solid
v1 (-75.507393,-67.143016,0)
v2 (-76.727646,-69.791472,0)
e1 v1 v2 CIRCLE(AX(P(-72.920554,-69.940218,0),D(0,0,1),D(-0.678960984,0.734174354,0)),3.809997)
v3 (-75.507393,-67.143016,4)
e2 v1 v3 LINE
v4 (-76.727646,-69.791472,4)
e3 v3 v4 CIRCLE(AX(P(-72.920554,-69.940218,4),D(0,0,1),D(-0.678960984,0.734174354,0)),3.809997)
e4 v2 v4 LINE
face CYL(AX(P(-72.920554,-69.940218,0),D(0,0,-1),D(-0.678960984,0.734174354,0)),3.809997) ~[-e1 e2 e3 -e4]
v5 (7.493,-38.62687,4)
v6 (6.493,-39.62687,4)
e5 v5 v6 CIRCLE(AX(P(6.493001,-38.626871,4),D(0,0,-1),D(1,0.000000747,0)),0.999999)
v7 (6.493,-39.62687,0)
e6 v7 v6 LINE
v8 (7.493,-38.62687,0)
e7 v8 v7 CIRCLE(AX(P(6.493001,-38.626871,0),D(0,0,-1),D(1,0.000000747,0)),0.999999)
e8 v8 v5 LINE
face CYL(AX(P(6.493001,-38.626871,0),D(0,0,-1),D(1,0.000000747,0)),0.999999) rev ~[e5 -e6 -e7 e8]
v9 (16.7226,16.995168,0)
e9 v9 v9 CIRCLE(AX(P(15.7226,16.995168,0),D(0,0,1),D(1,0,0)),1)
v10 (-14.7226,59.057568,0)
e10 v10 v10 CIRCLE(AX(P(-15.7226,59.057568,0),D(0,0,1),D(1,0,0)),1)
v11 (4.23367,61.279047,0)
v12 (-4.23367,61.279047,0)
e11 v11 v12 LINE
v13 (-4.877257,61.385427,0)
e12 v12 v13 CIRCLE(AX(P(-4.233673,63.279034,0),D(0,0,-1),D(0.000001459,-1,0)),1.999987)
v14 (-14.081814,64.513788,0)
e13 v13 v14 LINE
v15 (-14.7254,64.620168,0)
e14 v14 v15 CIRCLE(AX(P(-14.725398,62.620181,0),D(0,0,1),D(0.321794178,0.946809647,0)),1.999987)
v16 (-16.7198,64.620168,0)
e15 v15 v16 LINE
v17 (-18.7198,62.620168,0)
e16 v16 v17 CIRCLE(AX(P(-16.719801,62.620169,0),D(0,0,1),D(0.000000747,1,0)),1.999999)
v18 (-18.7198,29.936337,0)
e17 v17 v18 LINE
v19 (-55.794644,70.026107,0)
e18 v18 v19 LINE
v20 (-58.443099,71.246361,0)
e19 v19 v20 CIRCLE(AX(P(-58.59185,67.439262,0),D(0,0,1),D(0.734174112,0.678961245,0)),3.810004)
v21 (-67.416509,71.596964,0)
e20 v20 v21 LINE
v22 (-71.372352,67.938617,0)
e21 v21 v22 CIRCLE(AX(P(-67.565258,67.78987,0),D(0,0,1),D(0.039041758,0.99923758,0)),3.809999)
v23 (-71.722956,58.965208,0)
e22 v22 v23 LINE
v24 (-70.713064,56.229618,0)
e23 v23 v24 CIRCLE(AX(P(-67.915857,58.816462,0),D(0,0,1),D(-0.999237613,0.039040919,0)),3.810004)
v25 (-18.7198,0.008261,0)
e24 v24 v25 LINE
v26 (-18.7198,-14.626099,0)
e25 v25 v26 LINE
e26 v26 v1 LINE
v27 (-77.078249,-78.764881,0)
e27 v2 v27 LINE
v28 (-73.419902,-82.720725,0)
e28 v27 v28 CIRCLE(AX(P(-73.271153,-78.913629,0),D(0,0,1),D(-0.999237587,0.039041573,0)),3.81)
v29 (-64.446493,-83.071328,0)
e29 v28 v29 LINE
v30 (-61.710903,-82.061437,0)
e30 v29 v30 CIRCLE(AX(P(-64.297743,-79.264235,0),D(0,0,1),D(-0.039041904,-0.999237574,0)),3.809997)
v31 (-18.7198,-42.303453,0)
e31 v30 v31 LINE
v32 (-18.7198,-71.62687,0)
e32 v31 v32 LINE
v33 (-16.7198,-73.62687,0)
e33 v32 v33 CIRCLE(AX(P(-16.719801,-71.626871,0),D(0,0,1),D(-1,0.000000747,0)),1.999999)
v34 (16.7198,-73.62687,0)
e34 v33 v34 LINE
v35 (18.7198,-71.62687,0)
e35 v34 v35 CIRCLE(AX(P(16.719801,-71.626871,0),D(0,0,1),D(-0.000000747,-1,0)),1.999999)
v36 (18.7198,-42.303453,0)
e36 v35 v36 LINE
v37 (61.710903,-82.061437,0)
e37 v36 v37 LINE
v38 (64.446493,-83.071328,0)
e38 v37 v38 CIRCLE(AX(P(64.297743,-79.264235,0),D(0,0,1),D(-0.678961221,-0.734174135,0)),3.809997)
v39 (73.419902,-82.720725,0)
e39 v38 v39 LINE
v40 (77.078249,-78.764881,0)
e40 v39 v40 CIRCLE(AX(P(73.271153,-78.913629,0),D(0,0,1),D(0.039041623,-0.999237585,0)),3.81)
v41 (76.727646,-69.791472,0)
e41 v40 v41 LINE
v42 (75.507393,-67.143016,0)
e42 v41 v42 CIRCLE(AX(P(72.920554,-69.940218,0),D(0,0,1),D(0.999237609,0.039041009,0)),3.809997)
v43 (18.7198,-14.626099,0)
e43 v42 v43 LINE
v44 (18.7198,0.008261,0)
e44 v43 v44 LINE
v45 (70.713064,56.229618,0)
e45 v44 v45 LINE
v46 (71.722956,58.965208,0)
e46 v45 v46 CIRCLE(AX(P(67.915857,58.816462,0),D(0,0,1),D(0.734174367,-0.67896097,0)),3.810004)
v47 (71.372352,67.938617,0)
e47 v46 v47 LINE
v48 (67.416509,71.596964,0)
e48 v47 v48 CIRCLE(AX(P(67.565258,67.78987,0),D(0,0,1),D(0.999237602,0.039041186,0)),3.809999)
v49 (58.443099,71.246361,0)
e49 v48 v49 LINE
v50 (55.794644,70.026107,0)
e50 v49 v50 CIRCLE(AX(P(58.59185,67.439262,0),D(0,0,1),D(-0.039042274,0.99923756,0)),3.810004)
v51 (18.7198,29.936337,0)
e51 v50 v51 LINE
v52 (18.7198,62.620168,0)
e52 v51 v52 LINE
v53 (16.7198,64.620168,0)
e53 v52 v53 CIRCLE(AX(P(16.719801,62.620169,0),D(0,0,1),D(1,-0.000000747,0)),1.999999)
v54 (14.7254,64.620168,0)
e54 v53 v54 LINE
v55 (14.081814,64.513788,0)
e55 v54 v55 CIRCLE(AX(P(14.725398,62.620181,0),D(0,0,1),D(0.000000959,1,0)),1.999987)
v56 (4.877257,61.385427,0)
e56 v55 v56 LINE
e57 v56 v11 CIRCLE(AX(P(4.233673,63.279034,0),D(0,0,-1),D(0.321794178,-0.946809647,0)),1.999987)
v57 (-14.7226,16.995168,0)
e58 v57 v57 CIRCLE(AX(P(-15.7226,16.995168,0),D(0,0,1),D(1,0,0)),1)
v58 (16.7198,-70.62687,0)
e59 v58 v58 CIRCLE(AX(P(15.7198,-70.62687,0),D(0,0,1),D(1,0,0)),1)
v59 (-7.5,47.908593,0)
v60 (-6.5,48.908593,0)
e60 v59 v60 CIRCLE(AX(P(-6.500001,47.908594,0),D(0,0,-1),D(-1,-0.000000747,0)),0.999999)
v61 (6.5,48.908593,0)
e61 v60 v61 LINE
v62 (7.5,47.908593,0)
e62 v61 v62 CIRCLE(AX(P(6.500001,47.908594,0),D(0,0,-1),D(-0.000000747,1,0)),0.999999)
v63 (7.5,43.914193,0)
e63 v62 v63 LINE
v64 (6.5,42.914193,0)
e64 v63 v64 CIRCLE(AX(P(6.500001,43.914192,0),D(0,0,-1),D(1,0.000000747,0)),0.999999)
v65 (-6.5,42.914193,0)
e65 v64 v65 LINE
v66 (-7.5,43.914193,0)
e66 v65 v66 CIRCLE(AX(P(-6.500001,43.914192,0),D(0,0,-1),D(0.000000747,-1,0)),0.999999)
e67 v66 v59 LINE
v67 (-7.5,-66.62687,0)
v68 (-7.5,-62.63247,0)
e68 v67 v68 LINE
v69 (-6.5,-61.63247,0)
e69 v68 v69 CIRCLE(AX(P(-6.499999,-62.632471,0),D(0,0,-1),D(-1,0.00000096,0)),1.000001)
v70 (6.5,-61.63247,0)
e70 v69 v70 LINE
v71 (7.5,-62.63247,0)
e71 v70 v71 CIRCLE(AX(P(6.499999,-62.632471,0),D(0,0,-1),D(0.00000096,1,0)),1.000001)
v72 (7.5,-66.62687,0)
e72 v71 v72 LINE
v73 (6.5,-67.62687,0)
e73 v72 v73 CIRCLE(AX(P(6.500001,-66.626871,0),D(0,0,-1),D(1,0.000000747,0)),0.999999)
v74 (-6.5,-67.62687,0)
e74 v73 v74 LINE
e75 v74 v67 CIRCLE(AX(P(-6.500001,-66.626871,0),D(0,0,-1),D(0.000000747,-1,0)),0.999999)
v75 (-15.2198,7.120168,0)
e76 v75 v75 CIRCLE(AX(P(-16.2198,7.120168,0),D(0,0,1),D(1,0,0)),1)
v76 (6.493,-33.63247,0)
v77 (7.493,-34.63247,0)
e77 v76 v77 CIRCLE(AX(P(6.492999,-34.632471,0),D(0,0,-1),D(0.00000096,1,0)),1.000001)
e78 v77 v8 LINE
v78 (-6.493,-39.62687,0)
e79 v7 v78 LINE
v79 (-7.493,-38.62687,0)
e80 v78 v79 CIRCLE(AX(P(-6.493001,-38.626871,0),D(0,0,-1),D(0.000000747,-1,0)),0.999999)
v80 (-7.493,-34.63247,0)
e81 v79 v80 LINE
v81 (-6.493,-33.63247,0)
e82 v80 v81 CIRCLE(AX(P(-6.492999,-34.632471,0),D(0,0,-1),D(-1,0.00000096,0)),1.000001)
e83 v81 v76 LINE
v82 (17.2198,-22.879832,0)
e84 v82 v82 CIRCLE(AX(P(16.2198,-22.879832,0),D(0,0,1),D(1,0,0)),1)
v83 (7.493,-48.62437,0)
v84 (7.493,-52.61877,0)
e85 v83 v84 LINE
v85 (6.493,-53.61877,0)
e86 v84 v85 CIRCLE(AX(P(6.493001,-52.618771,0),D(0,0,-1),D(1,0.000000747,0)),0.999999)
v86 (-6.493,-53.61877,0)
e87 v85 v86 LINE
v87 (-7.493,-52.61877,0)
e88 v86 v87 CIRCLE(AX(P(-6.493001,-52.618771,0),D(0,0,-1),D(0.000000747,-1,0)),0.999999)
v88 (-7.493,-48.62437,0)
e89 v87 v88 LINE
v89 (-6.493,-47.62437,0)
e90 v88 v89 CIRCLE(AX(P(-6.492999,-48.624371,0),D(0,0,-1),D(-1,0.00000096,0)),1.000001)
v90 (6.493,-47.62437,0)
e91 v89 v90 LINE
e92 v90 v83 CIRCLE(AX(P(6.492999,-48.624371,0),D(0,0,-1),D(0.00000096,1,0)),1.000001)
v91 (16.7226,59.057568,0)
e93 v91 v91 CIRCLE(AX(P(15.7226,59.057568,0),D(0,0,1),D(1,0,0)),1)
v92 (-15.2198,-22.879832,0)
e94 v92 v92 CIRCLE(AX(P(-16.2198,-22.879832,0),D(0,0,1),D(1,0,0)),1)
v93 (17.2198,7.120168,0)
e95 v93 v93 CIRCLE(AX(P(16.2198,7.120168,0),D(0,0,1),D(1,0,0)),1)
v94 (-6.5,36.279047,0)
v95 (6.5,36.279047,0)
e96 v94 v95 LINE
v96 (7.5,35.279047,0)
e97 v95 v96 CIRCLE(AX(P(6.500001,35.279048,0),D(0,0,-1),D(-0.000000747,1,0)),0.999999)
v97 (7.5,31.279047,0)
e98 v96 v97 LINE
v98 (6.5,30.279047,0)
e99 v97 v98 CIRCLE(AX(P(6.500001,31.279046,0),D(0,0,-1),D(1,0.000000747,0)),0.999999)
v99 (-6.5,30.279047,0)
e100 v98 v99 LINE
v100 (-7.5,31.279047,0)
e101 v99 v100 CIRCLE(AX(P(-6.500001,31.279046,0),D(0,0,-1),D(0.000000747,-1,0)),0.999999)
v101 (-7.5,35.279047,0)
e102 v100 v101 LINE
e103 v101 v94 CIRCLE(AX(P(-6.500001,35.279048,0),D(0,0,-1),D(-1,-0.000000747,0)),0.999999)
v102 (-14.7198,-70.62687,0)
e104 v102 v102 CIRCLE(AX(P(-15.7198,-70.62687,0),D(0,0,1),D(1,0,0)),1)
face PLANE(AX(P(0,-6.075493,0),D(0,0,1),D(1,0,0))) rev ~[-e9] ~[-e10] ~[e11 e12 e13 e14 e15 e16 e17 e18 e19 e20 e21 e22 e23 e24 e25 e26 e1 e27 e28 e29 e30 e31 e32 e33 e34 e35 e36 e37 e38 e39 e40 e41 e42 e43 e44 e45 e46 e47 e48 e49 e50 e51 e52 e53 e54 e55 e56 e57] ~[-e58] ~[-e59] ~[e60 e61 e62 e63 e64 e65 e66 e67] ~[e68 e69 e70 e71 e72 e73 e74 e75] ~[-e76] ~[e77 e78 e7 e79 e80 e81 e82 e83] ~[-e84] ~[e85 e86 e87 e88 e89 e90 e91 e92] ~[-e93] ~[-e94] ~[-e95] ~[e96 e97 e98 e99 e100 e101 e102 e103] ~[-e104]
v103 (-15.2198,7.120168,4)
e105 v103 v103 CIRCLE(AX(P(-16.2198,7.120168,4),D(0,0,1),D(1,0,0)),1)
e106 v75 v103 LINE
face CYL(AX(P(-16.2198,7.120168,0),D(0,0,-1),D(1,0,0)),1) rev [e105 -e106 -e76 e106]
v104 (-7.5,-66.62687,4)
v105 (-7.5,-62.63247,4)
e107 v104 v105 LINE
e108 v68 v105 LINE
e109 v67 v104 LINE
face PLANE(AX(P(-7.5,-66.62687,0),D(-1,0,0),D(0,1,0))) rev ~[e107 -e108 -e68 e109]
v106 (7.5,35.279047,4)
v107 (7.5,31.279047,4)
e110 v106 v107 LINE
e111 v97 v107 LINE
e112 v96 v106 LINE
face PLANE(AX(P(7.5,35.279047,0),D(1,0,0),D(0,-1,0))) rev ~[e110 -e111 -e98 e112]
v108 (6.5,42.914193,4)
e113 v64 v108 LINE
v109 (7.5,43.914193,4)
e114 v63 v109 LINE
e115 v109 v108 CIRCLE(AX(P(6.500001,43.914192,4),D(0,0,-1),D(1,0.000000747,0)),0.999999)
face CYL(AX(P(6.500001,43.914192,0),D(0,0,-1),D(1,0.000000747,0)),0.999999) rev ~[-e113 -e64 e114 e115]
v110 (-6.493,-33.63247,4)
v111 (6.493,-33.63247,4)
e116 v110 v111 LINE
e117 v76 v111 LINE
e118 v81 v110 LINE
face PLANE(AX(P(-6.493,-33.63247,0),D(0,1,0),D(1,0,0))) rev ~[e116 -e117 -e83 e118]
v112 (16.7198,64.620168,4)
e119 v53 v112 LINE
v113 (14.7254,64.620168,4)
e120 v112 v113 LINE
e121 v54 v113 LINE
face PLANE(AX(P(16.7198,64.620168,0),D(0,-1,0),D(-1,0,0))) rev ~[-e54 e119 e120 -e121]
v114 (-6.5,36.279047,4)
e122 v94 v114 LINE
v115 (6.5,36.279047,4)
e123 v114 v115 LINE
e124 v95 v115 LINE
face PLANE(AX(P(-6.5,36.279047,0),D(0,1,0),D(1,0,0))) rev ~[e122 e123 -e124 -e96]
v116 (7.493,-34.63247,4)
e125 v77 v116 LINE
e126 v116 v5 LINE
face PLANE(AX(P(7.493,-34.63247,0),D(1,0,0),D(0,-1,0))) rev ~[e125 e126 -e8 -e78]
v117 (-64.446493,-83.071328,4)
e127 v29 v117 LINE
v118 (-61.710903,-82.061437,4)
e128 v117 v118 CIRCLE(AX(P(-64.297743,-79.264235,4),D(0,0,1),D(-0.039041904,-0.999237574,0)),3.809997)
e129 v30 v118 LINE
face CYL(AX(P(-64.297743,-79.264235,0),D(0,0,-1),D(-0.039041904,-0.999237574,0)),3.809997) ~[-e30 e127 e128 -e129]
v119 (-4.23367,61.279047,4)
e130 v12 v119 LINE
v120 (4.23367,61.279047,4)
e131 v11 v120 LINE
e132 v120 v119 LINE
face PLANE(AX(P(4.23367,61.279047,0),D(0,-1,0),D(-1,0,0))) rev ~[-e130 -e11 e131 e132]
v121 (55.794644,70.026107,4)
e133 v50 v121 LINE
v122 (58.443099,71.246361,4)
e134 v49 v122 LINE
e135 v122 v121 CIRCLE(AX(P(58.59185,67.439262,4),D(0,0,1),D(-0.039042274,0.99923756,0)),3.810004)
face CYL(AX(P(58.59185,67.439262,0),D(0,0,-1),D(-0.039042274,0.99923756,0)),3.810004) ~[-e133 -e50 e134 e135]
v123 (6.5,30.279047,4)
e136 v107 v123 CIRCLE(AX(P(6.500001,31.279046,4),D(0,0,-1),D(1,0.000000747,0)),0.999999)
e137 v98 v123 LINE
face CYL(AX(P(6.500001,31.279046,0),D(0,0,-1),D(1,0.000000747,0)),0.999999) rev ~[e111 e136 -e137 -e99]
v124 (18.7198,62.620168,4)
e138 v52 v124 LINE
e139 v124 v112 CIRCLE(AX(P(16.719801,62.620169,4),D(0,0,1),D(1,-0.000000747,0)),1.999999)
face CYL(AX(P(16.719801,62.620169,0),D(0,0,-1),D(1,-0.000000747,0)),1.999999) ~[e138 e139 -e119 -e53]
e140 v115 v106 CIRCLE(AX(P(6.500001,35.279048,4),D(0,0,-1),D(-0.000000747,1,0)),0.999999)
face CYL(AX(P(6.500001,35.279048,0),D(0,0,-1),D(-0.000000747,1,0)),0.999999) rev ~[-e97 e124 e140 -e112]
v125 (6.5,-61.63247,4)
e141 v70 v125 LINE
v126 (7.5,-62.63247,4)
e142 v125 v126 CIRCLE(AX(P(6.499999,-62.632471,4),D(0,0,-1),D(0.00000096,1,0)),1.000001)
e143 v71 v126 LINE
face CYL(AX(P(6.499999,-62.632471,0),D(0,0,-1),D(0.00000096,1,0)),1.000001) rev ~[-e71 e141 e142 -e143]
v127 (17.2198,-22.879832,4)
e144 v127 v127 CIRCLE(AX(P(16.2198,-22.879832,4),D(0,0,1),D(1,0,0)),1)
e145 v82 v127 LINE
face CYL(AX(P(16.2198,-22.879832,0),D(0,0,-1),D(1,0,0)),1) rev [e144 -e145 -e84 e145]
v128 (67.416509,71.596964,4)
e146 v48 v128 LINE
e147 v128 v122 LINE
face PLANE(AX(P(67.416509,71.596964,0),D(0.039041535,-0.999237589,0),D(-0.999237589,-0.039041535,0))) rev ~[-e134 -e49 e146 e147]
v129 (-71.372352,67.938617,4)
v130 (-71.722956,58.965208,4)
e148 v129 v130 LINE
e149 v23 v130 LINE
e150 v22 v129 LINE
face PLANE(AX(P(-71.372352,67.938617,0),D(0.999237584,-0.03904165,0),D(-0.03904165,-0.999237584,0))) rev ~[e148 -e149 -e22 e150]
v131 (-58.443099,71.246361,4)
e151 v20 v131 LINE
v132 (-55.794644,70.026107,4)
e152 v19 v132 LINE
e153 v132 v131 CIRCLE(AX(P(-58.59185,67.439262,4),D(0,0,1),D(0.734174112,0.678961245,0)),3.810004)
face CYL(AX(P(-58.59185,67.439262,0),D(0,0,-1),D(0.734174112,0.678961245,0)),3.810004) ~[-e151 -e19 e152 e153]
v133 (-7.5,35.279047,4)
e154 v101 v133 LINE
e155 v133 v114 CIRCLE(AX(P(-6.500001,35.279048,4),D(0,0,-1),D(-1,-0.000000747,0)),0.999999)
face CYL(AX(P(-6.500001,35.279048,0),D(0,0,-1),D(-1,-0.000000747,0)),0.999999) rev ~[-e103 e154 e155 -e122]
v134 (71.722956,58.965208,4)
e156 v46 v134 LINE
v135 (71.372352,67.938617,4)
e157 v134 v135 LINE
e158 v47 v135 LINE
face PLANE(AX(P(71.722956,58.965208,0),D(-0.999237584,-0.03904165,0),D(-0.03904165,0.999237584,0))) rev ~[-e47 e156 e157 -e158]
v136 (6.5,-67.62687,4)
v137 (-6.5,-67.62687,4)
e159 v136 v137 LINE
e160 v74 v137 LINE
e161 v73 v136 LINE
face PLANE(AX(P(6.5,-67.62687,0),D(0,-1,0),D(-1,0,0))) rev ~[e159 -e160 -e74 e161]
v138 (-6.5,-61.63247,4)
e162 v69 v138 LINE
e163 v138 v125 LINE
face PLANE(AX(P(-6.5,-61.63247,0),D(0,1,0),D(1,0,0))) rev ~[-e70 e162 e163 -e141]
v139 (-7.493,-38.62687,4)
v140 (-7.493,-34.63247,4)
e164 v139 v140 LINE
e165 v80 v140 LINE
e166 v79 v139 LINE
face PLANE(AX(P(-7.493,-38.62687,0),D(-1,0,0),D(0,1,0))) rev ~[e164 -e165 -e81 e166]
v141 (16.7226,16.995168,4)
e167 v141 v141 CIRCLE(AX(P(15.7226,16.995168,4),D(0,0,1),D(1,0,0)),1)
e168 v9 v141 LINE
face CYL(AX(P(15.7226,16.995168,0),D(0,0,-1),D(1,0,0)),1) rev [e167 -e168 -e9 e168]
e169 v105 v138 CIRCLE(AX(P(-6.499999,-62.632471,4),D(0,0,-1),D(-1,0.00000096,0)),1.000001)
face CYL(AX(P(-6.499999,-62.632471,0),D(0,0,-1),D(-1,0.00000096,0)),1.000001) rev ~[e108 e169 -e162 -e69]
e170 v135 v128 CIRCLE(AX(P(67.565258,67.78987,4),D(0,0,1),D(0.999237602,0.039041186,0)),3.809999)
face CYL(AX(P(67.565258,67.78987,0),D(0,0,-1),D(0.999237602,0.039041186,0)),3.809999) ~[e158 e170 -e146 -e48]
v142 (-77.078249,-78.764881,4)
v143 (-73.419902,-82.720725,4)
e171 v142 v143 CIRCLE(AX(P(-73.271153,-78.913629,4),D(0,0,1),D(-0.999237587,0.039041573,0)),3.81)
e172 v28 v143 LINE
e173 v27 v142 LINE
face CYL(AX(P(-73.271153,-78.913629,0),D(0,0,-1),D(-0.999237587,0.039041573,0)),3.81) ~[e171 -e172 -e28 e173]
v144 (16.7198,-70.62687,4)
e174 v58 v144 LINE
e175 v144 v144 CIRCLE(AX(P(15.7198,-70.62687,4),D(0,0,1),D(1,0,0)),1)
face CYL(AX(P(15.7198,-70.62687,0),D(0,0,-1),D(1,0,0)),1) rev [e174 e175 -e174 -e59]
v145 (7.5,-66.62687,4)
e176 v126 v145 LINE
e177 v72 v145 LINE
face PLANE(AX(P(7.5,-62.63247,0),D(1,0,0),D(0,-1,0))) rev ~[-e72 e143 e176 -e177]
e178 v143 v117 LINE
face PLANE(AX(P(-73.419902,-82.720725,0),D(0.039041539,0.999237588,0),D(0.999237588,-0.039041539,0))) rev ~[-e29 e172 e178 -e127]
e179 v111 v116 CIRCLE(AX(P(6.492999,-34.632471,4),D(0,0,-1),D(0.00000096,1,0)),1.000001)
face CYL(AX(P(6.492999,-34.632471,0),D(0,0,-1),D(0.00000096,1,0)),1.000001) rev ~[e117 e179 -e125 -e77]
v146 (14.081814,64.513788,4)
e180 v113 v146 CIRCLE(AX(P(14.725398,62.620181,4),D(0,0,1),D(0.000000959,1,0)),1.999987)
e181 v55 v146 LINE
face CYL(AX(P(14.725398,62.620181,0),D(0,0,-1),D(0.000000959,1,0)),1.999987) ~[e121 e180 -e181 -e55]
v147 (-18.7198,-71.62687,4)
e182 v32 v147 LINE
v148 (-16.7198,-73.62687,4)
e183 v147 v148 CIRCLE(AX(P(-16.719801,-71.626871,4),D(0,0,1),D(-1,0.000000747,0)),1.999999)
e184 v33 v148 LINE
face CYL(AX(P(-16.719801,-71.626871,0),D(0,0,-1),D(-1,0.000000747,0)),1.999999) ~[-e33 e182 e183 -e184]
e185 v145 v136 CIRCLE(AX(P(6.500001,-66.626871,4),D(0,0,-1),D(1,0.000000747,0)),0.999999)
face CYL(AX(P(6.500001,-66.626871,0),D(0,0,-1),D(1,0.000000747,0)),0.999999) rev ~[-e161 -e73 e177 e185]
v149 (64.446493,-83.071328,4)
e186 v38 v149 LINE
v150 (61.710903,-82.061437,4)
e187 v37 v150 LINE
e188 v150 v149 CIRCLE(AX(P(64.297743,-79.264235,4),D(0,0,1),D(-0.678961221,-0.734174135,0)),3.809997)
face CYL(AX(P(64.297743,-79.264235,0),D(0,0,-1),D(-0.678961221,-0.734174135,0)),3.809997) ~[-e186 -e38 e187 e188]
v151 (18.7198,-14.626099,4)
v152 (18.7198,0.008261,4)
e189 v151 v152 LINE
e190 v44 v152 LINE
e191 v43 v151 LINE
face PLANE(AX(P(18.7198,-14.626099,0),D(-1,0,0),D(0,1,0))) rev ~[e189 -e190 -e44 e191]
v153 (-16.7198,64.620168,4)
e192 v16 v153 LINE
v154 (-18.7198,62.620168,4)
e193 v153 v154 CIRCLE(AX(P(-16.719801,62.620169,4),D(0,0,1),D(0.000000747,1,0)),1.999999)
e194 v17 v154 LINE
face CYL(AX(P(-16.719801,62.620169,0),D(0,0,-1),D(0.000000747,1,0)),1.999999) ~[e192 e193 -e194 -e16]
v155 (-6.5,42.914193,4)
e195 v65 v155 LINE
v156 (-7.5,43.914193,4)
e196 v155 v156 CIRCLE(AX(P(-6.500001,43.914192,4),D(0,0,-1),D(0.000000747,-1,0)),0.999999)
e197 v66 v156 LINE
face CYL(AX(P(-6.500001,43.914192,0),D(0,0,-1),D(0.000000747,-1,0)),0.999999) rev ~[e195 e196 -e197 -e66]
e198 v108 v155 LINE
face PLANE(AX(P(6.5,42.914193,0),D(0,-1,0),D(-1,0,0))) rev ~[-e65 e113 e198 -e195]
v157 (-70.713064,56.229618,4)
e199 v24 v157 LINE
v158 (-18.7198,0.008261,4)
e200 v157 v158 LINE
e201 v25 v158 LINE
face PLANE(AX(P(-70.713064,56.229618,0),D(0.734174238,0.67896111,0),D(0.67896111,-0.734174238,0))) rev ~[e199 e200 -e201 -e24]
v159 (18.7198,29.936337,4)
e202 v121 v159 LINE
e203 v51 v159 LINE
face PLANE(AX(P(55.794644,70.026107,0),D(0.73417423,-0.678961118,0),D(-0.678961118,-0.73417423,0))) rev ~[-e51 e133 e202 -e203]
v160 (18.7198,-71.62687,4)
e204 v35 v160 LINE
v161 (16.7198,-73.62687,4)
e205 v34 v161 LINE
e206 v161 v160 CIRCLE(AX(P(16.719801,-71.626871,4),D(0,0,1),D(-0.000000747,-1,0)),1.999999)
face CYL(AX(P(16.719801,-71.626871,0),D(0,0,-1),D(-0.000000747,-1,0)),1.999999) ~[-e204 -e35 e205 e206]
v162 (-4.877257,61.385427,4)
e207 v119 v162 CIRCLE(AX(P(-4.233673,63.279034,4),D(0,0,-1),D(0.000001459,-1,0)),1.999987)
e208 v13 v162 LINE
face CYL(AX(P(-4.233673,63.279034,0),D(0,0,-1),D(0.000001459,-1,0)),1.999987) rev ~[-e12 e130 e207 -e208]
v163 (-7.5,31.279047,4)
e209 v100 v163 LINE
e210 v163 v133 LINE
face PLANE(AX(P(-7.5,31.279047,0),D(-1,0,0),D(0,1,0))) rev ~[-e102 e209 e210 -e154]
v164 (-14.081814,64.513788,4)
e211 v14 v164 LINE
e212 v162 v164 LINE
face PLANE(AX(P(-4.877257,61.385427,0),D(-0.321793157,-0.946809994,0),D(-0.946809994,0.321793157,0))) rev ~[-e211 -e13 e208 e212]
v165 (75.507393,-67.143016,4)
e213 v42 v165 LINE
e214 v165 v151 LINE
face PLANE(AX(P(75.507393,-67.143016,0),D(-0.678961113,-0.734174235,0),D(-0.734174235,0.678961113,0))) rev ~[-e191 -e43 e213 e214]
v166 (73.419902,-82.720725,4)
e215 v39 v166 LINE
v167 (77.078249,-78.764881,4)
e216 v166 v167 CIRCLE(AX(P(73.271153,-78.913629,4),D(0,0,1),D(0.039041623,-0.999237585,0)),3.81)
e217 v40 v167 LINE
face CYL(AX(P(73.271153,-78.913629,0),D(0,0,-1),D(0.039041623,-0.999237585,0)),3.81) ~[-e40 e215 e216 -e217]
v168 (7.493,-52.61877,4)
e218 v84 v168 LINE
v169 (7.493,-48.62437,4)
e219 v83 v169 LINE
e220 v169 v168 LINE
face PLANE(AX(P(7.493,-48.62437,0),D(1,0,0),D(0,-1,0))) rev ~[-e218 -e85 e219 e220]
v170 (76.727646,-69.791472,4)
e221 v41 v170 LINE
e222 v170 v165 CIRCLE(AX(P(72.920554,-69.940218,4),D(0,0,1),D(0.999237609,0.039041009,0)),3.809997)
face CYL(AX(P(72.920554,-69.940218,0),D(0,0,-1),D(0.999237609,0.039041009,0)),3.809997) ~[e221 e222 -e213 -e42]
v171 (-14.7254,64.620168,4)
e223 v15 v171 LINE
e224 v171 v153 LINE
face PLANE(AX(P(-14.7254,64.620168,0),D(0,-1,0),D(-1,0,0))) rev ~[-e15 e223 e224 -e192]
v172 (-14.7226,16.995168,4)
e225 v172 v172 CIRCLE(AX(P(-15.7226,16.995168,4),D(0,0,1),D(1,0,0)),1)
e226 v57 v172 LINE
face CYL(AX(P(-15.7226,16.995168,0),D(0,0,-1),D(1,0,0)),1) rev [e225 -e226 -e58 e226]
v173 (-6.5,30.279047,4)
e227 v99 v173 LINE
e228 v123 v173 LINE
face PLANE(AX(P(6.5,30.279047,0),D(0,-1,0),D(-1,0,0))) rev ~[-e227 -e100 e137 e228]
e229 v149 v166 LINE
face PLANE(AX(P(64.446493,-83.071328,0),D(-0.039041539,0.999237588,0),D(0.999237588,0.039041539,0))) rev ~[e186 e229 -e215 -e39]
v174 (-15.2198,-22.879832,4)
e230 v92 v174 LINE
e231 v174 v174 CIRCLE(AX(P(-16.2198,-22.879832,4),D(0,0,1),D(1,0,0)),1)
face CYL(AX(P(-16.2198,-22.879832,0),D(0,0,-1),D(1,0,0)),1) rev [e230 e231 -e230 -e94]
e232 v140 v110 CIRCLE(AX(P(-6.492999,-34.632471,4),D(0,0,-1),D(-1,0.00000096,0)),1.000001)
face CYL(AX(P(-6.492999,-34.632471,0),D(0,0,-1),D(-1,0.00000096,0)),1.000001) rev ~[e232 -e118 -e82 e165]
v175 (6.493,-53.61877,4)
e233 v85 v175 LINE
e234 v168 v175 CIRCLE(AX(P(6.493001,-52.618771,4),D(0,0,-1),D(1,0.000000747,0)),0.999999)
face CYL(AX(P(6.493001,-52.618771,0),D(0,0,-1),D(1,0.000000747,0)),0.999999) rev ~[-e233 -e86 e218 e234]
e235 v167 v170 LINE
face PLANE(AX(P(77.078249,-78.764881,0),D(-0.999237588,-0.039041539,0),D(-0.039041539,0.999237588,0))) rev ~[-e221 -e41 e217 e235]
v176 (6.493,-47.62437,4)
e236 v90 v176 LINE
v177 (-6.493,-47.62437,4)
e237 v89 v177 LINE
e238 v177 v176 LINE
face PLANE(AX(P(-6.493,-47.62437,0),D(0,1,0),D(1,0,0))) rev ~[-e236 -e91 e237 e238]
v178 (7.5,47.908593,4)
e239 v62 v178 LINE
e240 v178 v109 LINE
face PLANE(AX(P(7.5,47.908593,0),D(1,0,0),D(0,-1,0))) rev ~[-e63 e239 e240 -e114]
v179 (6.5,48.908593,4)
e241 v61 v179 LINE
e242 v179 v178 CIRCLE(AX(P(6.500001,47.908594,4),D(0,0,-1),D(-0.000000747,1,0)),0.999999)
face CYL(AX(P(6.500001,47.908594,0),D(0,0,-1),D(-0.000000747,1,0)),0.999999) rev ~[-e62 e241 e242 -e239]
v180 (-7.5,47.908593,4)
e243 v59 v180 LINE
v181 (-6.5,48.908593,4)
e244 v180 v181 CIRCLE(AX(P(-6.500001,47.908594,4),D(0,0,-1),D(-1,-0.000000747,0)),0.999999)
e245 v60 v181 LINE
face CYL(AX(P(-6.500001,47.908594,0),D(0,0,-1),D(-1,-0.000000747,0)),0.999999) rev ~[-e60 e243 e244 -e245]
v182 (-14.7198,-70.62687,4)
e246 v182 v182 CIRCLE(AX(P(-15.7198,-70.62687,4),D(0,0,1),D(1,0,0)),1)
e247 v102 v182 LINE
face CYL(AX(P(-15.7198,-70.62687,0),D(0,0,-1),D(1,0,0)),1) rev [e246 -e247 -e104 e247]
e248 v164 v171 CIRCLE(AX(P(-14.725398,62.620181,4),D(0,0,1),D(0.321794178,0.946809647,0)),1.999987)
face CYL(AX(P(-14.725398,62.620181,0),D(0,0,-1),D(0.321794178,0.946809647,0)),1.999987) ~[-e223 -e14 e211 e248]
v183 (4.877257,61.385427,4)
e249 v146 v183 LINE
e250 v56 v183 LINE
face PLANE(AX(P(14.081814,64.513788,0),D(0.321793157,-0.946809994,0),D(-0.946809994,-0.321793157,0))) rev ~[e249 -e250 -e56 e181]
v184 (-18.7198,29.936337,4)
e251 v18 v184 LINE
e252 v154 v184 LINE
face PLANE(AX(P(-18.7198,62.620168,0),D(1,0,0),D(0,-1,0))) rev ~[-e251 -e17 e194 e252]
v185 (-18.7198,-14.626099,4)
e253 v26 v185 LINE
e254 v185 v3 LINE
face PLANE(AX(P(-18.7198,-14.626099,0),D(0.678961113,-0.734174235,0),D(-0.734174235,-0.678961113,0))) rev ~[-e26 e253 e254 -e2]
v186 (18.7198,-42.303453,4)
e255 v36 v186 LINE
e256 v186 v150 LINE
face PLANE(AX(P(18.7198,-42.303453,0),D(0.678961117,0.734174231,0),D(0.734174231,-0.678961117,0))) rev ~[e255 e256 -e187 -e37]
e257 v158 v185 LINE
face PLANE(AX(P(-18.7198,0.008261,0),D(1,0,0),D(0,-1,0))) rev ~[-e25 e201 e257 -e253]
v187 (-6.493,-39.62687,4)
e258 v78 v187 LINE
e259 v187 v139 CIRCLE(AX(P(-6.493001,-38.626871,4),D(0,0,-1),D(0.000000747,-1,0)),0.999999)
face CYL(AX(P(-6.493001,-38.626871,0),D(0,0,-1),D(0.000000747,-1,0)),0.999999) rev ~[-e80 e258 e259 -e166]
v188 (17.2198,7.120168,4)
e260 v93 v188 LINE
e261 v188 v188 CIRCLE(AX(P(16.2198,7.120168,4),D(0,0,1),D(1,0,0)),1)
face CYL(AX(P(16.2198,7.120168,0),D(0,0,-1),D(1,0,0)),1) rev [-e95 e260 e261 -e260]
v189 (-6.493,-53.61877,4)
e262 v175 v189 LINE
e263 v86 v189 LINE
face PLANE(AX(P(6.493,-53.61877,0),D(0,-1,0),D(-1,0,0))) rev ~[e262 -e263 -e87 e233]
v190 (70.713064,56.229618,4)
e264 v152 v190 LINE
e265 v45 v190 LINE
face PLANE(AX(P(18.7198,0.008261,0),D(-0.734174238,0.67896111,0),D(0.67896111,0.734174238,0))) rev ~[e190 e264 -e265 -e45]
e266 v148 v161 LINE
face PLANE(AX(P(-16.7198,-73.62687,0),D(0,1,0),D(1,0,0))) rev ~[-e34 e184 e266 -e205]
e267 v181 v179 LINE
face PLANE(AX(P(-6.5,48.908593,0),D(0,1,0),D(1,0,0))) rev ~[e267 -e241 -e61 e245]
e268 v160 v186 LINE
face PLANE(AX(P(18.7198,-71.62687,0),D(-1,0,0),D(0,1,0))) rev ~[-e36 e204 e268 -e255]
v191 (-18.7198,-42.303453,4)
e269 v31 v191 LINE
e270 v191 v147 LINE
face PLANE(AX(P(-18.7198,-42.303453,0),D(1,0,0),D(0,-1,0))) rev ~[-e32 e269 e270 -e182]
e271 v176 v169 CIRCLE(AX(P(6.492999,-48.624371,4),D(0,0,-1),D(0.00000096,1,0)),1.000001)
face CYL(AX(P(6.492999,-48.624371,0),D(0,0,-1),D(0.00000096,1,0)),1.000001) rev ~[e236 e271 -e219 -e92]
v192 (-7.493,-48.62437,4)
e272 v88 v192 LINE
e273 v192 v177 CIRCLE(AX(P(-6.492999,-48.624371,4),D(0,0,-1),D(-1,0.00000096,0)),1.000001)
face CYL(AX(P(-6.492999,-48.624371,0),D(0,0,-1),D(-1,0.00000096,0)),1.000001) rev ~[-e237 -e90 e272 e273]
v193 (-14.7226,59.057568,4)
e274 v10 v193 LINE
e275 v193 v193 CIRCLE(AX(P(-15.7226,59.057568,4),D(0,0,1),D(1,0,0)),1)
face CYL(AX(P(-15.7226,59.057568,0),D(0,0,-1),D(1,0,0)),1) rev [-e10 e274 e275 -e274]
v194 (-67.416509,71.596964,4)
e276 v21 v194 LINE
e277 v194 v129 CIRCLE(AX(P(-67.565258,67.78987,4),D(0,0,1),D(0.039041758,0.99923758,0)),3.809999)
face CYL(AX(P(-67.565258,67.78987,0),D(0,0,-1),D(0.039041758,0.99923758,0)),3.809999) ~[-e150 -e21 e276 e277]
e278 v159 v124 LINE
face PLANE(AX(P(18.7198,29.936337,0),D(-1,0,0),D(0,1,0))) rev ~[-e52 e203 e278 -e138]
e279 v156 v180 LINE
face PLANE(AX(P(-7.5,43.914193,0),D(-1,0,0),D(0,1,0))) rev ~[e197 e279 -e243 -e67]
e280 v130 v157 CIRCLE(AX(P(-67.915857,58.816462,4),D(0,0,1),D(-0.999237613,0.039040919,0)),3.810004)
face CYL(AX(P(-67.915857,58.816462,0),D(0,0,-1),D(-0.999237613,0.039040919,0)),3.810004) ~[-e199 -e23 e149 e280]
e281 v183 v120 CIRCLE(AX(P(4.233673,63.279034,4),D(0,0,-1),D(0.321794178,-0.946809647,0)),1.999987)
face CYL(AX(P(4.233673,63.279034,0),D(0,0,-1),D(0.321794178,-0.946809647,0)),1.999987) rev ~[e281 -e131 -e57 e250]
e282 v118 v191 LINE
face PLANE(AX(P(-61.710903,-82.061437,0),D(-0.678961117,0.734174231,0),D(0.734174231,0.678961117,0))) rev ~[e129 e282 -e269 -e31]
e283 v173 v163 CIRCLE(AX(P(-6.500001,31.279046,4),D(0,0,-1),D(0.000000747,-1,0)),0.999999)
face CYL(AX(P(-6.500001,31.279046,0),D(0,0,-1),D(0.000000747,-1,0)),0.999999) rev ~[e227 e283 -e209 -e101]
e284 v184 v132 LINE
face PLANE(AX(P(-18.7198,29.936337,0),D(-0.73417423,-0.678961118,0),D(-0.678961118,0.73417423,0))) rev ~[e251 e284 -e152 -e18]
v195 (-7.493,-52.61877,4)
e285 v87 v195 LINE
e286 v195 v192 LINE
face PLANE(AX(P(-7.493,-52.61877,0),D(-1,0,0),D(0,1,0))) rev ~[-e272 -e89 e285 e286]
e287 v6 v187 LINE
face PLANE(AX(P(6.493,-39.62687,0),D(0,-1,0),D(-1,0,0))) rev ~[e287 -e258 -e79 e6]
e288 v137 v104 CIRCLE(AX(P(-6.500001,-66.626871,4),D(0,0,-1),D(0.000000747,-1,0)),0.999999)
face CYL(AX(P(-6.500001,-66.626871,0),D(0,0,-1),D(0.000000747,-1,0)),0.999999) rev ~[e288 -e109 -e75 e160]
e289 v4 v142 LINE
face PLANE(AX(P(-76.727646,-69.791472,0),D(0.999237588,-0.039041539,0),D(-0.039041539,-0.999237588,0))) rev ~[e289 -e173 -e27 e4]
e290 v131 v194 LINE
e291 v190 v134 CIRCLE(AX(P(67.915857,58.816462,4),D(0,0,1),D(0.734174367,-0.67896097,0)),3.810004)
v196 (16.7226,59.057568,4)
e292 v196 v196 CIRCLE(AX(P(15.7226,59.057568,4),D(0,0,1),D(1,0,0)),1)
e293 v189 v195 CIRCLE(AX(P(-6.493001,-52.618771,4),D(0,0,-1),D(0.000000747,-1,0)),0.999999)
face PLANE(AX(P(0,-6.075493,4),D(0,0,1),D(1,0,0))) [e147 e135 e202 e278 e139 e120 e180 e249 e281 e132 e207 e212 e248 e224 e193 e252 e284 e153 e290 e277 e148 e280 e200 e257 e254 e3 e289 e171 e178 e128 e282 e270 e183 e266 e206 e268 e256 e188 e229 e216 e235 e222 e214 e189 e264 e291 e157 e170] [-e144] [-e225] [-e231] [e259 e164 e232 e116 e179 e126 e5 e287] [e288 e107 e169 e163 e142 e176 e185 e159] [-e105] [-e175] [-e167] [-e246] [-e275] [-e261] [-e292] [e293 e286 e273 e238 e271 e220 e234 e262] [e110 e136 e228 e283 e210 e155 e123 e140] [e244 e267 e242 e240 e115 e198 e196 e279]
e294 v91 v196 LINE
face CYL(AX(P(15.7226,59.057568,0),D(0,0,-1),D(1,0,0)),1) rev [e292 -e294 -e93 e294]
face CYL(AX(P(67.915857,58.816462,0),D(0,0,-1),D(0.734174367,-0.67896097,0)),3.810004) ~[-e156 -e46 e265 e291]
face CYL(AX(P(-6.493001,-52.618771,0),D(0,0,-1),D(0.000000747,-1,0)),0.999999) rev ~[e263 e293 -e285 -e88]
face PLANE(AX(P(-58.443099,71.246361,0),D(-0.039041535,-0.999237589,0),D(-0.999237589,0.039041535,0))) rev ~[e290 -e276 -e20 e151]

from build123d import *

# Parameters (mm, degrees)
F0_R     = 1
F1_DEPTH = 4


with BuildPart() as f1:
    # F0 (on Top) → F1 (new body)
    with BuildSketch(Plane.XY):
        with BuildLine():
            ThreePointArc((-16.7198, 64.620168), (-18.134014, 64.034382), (-18.7198, 62.620168))
            Line((-18.7198, 62.620168), (-18.7198, 29.936337))
            Line((-18.7198, 29.936337), (-55.794644, 70.026107))
            ThreePointArc((-55.794644, 70.026107), (-56.99751, 70.899639), (-58.443099, 71.246361))
            Line((-58.443099, 71.246361), (-67.416509, 71.596964))
            ThreePointArc((-67.416509, 71.596964), (-70.152099, 70.587073), (-71.372352, 67.938617))
            Line((-71.372352, 67.938617), (-71.722956, 58.965208))
            ThreePointArc((-71.722956, 58.965208), (-71.490081, 57.496973), (-70.713064, 56.229618))
            Line((-70.713064, 56.229618), (-18.7198, 0.008261))
            Line((-18.7198, 0.008261), (-18.7198, -14.626099))
            Line((-18.7198, -14.626099), (-75.507393, -67.143016))
            ThreePointArc((-75.507393, -67.143016), (-76.380925, -68.345882), (-76.727646, -69.791472))
            Line((-76.727646, -69.791472), (-77.078249, -78.764881))
            ThreePointArc((-77.078249, -78.764881), (-76.068358, -81.500471), (-73.419902, -82.720725))
            Line((-73.419902, -82.720725), (-64.446493, -83.071328))
            ThreePointArc((-64.446493, -83.071328), (-62.978258, -82.838454), (-61.710903, -82.061437))
            Line((-61.710903, -82.061437), (-18.7198, -42.303453))
            Line((-18.7198, -42.303453), (-18.7198, -71.62687))
            ThreePointArc((-18.7198, -71.62687), (-18.134014, -73.041084), (-16.7198, -73.62687))
            Line((-16.7198, -73.62687), (0, -73.62687))
            Line((0, -73.62687), (16.7198, -73.62687))
            ThreePointArc((16.7198, -73.62687), (18.134014, -73.041084), (18.7198, -71.62687))
            Line((18.7198, -71.62687), (18.7198, -42.303453))
            Line((18.7198, -42.303453), (61.710903, -82.061437))
            ThreePointArc((61.710903, -82.061437), (62.978258, -82.838454), (64.446493, -83.071328))
            Line((64.446493, -83.071328), (73.419902, -82.720725))
            ThreePointArc((73.419902, -82.720725), (76.068358, -81.500471), (77.078249, -78.764881))
            Line((77.078249, -78.764881), (76.727646, -69.791472))
            ThreePointArc((76.727646, -69.791472), (76.380925, -68.345882), (75.507393, -67.143016))
            Line((75.507393, -67.143016), (18.7198, -14.626099))
            Line((18.7198, -14.626099), (18.7198, 0.008261))
            Line((18.7198, 0.008261), (70.713064, 56.229618))
            ThreePointArc((70.713064, 56.229618), (71.490081, 57.496973), (71.722956, 58.965208))
            Line((71.722956, 58.965208), (71.372352, 67.938617))
            ThreePointArc((71.372352, 67.938617), (70.152099, 70.587073), (67.416509, 71.596964))
            Line((67.416509, 71.596964), (58.443099, 71.246361))
            ThreePointArc((58.443099, 71.246361), (56.99751, 70.899639), (55.794644, 70.026107))
            Line((55.794644, 70.026107), (18.7198, 29.936337))
            Line((18.7198, 29.936337), (18.7198, 62.620168))
            ThreePointArc((18.7198, 62.620168), (18.134014, 64.034382), (16.7198, 64.620168))
            Line((16.7198, 64.620168), (14.7254, 64.620168))
            ThreePointArc((14.7254, 64.620168), (14.399241, 64.593394), (14.081814, 64.513788))
            Line((14.081814, 64.513788), (4.877257, 61.385427))
            ThreePointArc((4.877257, 61.385427), (4.55983, 61.305821), (4.23367, 61.279047))
            Line((4.23367, 61.279047), (0, 61.279047))
            Line((0, 61.279047), (-4.23367, 61.279047))
            ThreePointArc((-4.23367, 61.279047), (-4.55983, 61.305821), (-4.877257, 61.385427))
            Line((-4.877257, 61.385427), (-14.081814, 64.513788))
            ThreePointArc((-14.081814, 64.513788), (-14.399241, 64.593394), (-14.7254, 64.620168))
            Line((-14.7254, 64.620168), (-16.7198, 64.620168))
        make_face()
        with Locations((-15.7198, -70.62687)):
            Circle(F0_R, mode=Mode.SUBTRACT)
        with Locations((-16.2198, -22.879832)):
            Circle(F0_R, mode=Mode.SUBTRACT)
        with BuildLine():
            Line((6.5, -67.62687), (0, -67.62687))
            Line((0, -67.62687), (-6.5, -67.62687))
            ThreePointArc((-6.5, -67.62687), (-7.207107, -67.333977), (-7.5, -66.62687))
            Line((-7.5, -66.62687), (-7.5, -62.63247))
            ThreePointArc((-7.5, -62.63247), (-7.207107, -61.925364), (-6.5, -61.63247))
            Line((-6.5, -61.63247), (0, -61.63247))
            Line((0, -61.63247), (6.5, -61.63247))
            ThreePointArc((6.5, -61.63247), (7.207107, -61.925364), (7.5, -62.63247))
            Line((7.5, -62.63247), (7.5, -66.62687))
            ThreePointArc((7.5, -66.62687), (7.207107, -67.333977), (6.5, -67.62687))
        make_face(mode=Mode.SUBTRACT)
        with Locations((15.7198, -70.62687)):
            Circle(F0_R, mode=Mode.SUBTRACT)
        with BuildLine():
            Line((6.493, -53.61877), (0, -53.61877))
            Line((0, -53.61877), (-6.493, -53.61877))
            ThreePointArc((-6.493, -53.61877), (-7.200107, -53.325877), (-7.493, -52.61877))
            Line((-7.493, -52.61877), (-7.493, -48.62437))
            ThreePointArc((-7.493, -48.62437), (-7.200107, -47.917264), (-6.493, -47.62437))
            Line((-6.493, -47.62437), (0, -47.62437))
            Line((0, -47.62437), (6.493, -47.62437))
            ThreePointArc((6.493, -47.62437), (7.200107, -47.917264), (7.493, -48.62437))
            Line((7.493, -48.62437), (7.493, -52.61877))
            ThreePointArc((7.493, -52.61877), (7.200107, -53.325877), (6.493, -53.61877))
        make_face(mode=Mode.SUBTRACT)
        with BuildLine():
            Line((6.493, -39.62687), (0, -39.62687))
            Line((0, -39.62687), (-6.493, -39.62687))
            ThreePointArc((-6.493, -39.62687), (-7.200107, -39.333977), (-7.493, -38.62687))
            Line((-7.493, -38.62687), (-7.493, -34.63247))
            ThreePointArc((-7.493, -34.63247), (-7.200107, -33.925364), (-6.493, -33.63247))
            Line((-6.493, -33.63247), (0, -33.63247))
            Line((0, -33.63247), (6.493, -33.63247))
            ThreePointArc((6.493, -33.63247), (7.200107, -33.925364), (7.493, -34.63247))
            Line((7.493, -34.63247), (7.493, -38.62687))
            ThreePointArc((7.493, -38.62687), (7.200107, -39.333977), (6.493, -39.62687))
        make_face(mode=Mode.SUBTRACT)
        with Locations((16.2198, -22.879832)):
            Circle(F0_R, mode=Mode.SUBTRACT)
        with Locations((-16.2198, 7.120168)):
            Circle(F0_R, mode=Mode.SUBTRACT)
        with Locations((-15.7226, 16.995168)):
            Circle(F0_R, mode=Mode.SUBTRACT)
        with Locations((-15.7226, 59.057568)):
            Circle(F0_R, mode=Mode.SUBTRACT)
        with Locations((16.2198, 7.120168)):
            Circle(F0_R, mode=Mode.SUBTRACT)
        with Locations((15.7226, 16.995168)):
            Circle(F0_R, mode=Mode.SUBTRACT)
        with BuildLine():
            Line((-6.5, 36.279047), (0, 36.279047))
            Line((0, 36.279047), (6.5, 36.279047))
            ThreePointArc((6.5, 36.279047), (7.207107, 35.986154), (7.5, 35.279047))
            Line((7.5, 35.279047), (7.5, 31.279047))
            ThreePointArc((7.5, 31.279047), (7.207107, 30.57194), (6.5, 30.279047))
            Line((6.5, 30.279047), (0, 30.279047))
            Line((0, 30.279047), (-6.5, 30.279047))
            ThreePointArc((-6.5, 30.279047), (-7.207107, 30.57194), (-7.5, 31.279047))
            Line((-7.5, 31.279047), (-7.5, 35.279047))
            ThreePointArc((-7.5, 35.279047), (-7.207107, 35.986154), (-6.5, 36.279047))
        make_face(mode=Mode.SUBTRACT)
        with BuildLine():
            Line((6.5, 42.914193), (-6.5, 42.914193))
            ThreePointArc((-6.5, 42.914193), (-7.207107, 43.207086), (-7.5, 43.914193))
            Line((-7.5, 43.914193), (-7.5, 47.908593))
            ThreePointArc((-7.5, 47.908593), (-7.207107, 48.6157), (-6.5, 48.908593))
            Line((-6.5, 48.908593), (6.5, 48.908593))
            ThreePointArc((6.5, 48.908593), (7.207107, 48.6157), (7.5, 47.908593))
            Line((7.5, 47.908593), (7.5, 43.914193))
            ThreePointArc((7.5, 43.914193), (7.207107, 43.207086), (6.5, 42.914193))
        make_face(mode=Mode.SUBTRACT)
        with Locations((15.7226, 59.057568)):
            Circle(F0_R, mode=Mode.SUBTRACT)
    extrude(amount=F1_DEPTH)


solid = f1.part
